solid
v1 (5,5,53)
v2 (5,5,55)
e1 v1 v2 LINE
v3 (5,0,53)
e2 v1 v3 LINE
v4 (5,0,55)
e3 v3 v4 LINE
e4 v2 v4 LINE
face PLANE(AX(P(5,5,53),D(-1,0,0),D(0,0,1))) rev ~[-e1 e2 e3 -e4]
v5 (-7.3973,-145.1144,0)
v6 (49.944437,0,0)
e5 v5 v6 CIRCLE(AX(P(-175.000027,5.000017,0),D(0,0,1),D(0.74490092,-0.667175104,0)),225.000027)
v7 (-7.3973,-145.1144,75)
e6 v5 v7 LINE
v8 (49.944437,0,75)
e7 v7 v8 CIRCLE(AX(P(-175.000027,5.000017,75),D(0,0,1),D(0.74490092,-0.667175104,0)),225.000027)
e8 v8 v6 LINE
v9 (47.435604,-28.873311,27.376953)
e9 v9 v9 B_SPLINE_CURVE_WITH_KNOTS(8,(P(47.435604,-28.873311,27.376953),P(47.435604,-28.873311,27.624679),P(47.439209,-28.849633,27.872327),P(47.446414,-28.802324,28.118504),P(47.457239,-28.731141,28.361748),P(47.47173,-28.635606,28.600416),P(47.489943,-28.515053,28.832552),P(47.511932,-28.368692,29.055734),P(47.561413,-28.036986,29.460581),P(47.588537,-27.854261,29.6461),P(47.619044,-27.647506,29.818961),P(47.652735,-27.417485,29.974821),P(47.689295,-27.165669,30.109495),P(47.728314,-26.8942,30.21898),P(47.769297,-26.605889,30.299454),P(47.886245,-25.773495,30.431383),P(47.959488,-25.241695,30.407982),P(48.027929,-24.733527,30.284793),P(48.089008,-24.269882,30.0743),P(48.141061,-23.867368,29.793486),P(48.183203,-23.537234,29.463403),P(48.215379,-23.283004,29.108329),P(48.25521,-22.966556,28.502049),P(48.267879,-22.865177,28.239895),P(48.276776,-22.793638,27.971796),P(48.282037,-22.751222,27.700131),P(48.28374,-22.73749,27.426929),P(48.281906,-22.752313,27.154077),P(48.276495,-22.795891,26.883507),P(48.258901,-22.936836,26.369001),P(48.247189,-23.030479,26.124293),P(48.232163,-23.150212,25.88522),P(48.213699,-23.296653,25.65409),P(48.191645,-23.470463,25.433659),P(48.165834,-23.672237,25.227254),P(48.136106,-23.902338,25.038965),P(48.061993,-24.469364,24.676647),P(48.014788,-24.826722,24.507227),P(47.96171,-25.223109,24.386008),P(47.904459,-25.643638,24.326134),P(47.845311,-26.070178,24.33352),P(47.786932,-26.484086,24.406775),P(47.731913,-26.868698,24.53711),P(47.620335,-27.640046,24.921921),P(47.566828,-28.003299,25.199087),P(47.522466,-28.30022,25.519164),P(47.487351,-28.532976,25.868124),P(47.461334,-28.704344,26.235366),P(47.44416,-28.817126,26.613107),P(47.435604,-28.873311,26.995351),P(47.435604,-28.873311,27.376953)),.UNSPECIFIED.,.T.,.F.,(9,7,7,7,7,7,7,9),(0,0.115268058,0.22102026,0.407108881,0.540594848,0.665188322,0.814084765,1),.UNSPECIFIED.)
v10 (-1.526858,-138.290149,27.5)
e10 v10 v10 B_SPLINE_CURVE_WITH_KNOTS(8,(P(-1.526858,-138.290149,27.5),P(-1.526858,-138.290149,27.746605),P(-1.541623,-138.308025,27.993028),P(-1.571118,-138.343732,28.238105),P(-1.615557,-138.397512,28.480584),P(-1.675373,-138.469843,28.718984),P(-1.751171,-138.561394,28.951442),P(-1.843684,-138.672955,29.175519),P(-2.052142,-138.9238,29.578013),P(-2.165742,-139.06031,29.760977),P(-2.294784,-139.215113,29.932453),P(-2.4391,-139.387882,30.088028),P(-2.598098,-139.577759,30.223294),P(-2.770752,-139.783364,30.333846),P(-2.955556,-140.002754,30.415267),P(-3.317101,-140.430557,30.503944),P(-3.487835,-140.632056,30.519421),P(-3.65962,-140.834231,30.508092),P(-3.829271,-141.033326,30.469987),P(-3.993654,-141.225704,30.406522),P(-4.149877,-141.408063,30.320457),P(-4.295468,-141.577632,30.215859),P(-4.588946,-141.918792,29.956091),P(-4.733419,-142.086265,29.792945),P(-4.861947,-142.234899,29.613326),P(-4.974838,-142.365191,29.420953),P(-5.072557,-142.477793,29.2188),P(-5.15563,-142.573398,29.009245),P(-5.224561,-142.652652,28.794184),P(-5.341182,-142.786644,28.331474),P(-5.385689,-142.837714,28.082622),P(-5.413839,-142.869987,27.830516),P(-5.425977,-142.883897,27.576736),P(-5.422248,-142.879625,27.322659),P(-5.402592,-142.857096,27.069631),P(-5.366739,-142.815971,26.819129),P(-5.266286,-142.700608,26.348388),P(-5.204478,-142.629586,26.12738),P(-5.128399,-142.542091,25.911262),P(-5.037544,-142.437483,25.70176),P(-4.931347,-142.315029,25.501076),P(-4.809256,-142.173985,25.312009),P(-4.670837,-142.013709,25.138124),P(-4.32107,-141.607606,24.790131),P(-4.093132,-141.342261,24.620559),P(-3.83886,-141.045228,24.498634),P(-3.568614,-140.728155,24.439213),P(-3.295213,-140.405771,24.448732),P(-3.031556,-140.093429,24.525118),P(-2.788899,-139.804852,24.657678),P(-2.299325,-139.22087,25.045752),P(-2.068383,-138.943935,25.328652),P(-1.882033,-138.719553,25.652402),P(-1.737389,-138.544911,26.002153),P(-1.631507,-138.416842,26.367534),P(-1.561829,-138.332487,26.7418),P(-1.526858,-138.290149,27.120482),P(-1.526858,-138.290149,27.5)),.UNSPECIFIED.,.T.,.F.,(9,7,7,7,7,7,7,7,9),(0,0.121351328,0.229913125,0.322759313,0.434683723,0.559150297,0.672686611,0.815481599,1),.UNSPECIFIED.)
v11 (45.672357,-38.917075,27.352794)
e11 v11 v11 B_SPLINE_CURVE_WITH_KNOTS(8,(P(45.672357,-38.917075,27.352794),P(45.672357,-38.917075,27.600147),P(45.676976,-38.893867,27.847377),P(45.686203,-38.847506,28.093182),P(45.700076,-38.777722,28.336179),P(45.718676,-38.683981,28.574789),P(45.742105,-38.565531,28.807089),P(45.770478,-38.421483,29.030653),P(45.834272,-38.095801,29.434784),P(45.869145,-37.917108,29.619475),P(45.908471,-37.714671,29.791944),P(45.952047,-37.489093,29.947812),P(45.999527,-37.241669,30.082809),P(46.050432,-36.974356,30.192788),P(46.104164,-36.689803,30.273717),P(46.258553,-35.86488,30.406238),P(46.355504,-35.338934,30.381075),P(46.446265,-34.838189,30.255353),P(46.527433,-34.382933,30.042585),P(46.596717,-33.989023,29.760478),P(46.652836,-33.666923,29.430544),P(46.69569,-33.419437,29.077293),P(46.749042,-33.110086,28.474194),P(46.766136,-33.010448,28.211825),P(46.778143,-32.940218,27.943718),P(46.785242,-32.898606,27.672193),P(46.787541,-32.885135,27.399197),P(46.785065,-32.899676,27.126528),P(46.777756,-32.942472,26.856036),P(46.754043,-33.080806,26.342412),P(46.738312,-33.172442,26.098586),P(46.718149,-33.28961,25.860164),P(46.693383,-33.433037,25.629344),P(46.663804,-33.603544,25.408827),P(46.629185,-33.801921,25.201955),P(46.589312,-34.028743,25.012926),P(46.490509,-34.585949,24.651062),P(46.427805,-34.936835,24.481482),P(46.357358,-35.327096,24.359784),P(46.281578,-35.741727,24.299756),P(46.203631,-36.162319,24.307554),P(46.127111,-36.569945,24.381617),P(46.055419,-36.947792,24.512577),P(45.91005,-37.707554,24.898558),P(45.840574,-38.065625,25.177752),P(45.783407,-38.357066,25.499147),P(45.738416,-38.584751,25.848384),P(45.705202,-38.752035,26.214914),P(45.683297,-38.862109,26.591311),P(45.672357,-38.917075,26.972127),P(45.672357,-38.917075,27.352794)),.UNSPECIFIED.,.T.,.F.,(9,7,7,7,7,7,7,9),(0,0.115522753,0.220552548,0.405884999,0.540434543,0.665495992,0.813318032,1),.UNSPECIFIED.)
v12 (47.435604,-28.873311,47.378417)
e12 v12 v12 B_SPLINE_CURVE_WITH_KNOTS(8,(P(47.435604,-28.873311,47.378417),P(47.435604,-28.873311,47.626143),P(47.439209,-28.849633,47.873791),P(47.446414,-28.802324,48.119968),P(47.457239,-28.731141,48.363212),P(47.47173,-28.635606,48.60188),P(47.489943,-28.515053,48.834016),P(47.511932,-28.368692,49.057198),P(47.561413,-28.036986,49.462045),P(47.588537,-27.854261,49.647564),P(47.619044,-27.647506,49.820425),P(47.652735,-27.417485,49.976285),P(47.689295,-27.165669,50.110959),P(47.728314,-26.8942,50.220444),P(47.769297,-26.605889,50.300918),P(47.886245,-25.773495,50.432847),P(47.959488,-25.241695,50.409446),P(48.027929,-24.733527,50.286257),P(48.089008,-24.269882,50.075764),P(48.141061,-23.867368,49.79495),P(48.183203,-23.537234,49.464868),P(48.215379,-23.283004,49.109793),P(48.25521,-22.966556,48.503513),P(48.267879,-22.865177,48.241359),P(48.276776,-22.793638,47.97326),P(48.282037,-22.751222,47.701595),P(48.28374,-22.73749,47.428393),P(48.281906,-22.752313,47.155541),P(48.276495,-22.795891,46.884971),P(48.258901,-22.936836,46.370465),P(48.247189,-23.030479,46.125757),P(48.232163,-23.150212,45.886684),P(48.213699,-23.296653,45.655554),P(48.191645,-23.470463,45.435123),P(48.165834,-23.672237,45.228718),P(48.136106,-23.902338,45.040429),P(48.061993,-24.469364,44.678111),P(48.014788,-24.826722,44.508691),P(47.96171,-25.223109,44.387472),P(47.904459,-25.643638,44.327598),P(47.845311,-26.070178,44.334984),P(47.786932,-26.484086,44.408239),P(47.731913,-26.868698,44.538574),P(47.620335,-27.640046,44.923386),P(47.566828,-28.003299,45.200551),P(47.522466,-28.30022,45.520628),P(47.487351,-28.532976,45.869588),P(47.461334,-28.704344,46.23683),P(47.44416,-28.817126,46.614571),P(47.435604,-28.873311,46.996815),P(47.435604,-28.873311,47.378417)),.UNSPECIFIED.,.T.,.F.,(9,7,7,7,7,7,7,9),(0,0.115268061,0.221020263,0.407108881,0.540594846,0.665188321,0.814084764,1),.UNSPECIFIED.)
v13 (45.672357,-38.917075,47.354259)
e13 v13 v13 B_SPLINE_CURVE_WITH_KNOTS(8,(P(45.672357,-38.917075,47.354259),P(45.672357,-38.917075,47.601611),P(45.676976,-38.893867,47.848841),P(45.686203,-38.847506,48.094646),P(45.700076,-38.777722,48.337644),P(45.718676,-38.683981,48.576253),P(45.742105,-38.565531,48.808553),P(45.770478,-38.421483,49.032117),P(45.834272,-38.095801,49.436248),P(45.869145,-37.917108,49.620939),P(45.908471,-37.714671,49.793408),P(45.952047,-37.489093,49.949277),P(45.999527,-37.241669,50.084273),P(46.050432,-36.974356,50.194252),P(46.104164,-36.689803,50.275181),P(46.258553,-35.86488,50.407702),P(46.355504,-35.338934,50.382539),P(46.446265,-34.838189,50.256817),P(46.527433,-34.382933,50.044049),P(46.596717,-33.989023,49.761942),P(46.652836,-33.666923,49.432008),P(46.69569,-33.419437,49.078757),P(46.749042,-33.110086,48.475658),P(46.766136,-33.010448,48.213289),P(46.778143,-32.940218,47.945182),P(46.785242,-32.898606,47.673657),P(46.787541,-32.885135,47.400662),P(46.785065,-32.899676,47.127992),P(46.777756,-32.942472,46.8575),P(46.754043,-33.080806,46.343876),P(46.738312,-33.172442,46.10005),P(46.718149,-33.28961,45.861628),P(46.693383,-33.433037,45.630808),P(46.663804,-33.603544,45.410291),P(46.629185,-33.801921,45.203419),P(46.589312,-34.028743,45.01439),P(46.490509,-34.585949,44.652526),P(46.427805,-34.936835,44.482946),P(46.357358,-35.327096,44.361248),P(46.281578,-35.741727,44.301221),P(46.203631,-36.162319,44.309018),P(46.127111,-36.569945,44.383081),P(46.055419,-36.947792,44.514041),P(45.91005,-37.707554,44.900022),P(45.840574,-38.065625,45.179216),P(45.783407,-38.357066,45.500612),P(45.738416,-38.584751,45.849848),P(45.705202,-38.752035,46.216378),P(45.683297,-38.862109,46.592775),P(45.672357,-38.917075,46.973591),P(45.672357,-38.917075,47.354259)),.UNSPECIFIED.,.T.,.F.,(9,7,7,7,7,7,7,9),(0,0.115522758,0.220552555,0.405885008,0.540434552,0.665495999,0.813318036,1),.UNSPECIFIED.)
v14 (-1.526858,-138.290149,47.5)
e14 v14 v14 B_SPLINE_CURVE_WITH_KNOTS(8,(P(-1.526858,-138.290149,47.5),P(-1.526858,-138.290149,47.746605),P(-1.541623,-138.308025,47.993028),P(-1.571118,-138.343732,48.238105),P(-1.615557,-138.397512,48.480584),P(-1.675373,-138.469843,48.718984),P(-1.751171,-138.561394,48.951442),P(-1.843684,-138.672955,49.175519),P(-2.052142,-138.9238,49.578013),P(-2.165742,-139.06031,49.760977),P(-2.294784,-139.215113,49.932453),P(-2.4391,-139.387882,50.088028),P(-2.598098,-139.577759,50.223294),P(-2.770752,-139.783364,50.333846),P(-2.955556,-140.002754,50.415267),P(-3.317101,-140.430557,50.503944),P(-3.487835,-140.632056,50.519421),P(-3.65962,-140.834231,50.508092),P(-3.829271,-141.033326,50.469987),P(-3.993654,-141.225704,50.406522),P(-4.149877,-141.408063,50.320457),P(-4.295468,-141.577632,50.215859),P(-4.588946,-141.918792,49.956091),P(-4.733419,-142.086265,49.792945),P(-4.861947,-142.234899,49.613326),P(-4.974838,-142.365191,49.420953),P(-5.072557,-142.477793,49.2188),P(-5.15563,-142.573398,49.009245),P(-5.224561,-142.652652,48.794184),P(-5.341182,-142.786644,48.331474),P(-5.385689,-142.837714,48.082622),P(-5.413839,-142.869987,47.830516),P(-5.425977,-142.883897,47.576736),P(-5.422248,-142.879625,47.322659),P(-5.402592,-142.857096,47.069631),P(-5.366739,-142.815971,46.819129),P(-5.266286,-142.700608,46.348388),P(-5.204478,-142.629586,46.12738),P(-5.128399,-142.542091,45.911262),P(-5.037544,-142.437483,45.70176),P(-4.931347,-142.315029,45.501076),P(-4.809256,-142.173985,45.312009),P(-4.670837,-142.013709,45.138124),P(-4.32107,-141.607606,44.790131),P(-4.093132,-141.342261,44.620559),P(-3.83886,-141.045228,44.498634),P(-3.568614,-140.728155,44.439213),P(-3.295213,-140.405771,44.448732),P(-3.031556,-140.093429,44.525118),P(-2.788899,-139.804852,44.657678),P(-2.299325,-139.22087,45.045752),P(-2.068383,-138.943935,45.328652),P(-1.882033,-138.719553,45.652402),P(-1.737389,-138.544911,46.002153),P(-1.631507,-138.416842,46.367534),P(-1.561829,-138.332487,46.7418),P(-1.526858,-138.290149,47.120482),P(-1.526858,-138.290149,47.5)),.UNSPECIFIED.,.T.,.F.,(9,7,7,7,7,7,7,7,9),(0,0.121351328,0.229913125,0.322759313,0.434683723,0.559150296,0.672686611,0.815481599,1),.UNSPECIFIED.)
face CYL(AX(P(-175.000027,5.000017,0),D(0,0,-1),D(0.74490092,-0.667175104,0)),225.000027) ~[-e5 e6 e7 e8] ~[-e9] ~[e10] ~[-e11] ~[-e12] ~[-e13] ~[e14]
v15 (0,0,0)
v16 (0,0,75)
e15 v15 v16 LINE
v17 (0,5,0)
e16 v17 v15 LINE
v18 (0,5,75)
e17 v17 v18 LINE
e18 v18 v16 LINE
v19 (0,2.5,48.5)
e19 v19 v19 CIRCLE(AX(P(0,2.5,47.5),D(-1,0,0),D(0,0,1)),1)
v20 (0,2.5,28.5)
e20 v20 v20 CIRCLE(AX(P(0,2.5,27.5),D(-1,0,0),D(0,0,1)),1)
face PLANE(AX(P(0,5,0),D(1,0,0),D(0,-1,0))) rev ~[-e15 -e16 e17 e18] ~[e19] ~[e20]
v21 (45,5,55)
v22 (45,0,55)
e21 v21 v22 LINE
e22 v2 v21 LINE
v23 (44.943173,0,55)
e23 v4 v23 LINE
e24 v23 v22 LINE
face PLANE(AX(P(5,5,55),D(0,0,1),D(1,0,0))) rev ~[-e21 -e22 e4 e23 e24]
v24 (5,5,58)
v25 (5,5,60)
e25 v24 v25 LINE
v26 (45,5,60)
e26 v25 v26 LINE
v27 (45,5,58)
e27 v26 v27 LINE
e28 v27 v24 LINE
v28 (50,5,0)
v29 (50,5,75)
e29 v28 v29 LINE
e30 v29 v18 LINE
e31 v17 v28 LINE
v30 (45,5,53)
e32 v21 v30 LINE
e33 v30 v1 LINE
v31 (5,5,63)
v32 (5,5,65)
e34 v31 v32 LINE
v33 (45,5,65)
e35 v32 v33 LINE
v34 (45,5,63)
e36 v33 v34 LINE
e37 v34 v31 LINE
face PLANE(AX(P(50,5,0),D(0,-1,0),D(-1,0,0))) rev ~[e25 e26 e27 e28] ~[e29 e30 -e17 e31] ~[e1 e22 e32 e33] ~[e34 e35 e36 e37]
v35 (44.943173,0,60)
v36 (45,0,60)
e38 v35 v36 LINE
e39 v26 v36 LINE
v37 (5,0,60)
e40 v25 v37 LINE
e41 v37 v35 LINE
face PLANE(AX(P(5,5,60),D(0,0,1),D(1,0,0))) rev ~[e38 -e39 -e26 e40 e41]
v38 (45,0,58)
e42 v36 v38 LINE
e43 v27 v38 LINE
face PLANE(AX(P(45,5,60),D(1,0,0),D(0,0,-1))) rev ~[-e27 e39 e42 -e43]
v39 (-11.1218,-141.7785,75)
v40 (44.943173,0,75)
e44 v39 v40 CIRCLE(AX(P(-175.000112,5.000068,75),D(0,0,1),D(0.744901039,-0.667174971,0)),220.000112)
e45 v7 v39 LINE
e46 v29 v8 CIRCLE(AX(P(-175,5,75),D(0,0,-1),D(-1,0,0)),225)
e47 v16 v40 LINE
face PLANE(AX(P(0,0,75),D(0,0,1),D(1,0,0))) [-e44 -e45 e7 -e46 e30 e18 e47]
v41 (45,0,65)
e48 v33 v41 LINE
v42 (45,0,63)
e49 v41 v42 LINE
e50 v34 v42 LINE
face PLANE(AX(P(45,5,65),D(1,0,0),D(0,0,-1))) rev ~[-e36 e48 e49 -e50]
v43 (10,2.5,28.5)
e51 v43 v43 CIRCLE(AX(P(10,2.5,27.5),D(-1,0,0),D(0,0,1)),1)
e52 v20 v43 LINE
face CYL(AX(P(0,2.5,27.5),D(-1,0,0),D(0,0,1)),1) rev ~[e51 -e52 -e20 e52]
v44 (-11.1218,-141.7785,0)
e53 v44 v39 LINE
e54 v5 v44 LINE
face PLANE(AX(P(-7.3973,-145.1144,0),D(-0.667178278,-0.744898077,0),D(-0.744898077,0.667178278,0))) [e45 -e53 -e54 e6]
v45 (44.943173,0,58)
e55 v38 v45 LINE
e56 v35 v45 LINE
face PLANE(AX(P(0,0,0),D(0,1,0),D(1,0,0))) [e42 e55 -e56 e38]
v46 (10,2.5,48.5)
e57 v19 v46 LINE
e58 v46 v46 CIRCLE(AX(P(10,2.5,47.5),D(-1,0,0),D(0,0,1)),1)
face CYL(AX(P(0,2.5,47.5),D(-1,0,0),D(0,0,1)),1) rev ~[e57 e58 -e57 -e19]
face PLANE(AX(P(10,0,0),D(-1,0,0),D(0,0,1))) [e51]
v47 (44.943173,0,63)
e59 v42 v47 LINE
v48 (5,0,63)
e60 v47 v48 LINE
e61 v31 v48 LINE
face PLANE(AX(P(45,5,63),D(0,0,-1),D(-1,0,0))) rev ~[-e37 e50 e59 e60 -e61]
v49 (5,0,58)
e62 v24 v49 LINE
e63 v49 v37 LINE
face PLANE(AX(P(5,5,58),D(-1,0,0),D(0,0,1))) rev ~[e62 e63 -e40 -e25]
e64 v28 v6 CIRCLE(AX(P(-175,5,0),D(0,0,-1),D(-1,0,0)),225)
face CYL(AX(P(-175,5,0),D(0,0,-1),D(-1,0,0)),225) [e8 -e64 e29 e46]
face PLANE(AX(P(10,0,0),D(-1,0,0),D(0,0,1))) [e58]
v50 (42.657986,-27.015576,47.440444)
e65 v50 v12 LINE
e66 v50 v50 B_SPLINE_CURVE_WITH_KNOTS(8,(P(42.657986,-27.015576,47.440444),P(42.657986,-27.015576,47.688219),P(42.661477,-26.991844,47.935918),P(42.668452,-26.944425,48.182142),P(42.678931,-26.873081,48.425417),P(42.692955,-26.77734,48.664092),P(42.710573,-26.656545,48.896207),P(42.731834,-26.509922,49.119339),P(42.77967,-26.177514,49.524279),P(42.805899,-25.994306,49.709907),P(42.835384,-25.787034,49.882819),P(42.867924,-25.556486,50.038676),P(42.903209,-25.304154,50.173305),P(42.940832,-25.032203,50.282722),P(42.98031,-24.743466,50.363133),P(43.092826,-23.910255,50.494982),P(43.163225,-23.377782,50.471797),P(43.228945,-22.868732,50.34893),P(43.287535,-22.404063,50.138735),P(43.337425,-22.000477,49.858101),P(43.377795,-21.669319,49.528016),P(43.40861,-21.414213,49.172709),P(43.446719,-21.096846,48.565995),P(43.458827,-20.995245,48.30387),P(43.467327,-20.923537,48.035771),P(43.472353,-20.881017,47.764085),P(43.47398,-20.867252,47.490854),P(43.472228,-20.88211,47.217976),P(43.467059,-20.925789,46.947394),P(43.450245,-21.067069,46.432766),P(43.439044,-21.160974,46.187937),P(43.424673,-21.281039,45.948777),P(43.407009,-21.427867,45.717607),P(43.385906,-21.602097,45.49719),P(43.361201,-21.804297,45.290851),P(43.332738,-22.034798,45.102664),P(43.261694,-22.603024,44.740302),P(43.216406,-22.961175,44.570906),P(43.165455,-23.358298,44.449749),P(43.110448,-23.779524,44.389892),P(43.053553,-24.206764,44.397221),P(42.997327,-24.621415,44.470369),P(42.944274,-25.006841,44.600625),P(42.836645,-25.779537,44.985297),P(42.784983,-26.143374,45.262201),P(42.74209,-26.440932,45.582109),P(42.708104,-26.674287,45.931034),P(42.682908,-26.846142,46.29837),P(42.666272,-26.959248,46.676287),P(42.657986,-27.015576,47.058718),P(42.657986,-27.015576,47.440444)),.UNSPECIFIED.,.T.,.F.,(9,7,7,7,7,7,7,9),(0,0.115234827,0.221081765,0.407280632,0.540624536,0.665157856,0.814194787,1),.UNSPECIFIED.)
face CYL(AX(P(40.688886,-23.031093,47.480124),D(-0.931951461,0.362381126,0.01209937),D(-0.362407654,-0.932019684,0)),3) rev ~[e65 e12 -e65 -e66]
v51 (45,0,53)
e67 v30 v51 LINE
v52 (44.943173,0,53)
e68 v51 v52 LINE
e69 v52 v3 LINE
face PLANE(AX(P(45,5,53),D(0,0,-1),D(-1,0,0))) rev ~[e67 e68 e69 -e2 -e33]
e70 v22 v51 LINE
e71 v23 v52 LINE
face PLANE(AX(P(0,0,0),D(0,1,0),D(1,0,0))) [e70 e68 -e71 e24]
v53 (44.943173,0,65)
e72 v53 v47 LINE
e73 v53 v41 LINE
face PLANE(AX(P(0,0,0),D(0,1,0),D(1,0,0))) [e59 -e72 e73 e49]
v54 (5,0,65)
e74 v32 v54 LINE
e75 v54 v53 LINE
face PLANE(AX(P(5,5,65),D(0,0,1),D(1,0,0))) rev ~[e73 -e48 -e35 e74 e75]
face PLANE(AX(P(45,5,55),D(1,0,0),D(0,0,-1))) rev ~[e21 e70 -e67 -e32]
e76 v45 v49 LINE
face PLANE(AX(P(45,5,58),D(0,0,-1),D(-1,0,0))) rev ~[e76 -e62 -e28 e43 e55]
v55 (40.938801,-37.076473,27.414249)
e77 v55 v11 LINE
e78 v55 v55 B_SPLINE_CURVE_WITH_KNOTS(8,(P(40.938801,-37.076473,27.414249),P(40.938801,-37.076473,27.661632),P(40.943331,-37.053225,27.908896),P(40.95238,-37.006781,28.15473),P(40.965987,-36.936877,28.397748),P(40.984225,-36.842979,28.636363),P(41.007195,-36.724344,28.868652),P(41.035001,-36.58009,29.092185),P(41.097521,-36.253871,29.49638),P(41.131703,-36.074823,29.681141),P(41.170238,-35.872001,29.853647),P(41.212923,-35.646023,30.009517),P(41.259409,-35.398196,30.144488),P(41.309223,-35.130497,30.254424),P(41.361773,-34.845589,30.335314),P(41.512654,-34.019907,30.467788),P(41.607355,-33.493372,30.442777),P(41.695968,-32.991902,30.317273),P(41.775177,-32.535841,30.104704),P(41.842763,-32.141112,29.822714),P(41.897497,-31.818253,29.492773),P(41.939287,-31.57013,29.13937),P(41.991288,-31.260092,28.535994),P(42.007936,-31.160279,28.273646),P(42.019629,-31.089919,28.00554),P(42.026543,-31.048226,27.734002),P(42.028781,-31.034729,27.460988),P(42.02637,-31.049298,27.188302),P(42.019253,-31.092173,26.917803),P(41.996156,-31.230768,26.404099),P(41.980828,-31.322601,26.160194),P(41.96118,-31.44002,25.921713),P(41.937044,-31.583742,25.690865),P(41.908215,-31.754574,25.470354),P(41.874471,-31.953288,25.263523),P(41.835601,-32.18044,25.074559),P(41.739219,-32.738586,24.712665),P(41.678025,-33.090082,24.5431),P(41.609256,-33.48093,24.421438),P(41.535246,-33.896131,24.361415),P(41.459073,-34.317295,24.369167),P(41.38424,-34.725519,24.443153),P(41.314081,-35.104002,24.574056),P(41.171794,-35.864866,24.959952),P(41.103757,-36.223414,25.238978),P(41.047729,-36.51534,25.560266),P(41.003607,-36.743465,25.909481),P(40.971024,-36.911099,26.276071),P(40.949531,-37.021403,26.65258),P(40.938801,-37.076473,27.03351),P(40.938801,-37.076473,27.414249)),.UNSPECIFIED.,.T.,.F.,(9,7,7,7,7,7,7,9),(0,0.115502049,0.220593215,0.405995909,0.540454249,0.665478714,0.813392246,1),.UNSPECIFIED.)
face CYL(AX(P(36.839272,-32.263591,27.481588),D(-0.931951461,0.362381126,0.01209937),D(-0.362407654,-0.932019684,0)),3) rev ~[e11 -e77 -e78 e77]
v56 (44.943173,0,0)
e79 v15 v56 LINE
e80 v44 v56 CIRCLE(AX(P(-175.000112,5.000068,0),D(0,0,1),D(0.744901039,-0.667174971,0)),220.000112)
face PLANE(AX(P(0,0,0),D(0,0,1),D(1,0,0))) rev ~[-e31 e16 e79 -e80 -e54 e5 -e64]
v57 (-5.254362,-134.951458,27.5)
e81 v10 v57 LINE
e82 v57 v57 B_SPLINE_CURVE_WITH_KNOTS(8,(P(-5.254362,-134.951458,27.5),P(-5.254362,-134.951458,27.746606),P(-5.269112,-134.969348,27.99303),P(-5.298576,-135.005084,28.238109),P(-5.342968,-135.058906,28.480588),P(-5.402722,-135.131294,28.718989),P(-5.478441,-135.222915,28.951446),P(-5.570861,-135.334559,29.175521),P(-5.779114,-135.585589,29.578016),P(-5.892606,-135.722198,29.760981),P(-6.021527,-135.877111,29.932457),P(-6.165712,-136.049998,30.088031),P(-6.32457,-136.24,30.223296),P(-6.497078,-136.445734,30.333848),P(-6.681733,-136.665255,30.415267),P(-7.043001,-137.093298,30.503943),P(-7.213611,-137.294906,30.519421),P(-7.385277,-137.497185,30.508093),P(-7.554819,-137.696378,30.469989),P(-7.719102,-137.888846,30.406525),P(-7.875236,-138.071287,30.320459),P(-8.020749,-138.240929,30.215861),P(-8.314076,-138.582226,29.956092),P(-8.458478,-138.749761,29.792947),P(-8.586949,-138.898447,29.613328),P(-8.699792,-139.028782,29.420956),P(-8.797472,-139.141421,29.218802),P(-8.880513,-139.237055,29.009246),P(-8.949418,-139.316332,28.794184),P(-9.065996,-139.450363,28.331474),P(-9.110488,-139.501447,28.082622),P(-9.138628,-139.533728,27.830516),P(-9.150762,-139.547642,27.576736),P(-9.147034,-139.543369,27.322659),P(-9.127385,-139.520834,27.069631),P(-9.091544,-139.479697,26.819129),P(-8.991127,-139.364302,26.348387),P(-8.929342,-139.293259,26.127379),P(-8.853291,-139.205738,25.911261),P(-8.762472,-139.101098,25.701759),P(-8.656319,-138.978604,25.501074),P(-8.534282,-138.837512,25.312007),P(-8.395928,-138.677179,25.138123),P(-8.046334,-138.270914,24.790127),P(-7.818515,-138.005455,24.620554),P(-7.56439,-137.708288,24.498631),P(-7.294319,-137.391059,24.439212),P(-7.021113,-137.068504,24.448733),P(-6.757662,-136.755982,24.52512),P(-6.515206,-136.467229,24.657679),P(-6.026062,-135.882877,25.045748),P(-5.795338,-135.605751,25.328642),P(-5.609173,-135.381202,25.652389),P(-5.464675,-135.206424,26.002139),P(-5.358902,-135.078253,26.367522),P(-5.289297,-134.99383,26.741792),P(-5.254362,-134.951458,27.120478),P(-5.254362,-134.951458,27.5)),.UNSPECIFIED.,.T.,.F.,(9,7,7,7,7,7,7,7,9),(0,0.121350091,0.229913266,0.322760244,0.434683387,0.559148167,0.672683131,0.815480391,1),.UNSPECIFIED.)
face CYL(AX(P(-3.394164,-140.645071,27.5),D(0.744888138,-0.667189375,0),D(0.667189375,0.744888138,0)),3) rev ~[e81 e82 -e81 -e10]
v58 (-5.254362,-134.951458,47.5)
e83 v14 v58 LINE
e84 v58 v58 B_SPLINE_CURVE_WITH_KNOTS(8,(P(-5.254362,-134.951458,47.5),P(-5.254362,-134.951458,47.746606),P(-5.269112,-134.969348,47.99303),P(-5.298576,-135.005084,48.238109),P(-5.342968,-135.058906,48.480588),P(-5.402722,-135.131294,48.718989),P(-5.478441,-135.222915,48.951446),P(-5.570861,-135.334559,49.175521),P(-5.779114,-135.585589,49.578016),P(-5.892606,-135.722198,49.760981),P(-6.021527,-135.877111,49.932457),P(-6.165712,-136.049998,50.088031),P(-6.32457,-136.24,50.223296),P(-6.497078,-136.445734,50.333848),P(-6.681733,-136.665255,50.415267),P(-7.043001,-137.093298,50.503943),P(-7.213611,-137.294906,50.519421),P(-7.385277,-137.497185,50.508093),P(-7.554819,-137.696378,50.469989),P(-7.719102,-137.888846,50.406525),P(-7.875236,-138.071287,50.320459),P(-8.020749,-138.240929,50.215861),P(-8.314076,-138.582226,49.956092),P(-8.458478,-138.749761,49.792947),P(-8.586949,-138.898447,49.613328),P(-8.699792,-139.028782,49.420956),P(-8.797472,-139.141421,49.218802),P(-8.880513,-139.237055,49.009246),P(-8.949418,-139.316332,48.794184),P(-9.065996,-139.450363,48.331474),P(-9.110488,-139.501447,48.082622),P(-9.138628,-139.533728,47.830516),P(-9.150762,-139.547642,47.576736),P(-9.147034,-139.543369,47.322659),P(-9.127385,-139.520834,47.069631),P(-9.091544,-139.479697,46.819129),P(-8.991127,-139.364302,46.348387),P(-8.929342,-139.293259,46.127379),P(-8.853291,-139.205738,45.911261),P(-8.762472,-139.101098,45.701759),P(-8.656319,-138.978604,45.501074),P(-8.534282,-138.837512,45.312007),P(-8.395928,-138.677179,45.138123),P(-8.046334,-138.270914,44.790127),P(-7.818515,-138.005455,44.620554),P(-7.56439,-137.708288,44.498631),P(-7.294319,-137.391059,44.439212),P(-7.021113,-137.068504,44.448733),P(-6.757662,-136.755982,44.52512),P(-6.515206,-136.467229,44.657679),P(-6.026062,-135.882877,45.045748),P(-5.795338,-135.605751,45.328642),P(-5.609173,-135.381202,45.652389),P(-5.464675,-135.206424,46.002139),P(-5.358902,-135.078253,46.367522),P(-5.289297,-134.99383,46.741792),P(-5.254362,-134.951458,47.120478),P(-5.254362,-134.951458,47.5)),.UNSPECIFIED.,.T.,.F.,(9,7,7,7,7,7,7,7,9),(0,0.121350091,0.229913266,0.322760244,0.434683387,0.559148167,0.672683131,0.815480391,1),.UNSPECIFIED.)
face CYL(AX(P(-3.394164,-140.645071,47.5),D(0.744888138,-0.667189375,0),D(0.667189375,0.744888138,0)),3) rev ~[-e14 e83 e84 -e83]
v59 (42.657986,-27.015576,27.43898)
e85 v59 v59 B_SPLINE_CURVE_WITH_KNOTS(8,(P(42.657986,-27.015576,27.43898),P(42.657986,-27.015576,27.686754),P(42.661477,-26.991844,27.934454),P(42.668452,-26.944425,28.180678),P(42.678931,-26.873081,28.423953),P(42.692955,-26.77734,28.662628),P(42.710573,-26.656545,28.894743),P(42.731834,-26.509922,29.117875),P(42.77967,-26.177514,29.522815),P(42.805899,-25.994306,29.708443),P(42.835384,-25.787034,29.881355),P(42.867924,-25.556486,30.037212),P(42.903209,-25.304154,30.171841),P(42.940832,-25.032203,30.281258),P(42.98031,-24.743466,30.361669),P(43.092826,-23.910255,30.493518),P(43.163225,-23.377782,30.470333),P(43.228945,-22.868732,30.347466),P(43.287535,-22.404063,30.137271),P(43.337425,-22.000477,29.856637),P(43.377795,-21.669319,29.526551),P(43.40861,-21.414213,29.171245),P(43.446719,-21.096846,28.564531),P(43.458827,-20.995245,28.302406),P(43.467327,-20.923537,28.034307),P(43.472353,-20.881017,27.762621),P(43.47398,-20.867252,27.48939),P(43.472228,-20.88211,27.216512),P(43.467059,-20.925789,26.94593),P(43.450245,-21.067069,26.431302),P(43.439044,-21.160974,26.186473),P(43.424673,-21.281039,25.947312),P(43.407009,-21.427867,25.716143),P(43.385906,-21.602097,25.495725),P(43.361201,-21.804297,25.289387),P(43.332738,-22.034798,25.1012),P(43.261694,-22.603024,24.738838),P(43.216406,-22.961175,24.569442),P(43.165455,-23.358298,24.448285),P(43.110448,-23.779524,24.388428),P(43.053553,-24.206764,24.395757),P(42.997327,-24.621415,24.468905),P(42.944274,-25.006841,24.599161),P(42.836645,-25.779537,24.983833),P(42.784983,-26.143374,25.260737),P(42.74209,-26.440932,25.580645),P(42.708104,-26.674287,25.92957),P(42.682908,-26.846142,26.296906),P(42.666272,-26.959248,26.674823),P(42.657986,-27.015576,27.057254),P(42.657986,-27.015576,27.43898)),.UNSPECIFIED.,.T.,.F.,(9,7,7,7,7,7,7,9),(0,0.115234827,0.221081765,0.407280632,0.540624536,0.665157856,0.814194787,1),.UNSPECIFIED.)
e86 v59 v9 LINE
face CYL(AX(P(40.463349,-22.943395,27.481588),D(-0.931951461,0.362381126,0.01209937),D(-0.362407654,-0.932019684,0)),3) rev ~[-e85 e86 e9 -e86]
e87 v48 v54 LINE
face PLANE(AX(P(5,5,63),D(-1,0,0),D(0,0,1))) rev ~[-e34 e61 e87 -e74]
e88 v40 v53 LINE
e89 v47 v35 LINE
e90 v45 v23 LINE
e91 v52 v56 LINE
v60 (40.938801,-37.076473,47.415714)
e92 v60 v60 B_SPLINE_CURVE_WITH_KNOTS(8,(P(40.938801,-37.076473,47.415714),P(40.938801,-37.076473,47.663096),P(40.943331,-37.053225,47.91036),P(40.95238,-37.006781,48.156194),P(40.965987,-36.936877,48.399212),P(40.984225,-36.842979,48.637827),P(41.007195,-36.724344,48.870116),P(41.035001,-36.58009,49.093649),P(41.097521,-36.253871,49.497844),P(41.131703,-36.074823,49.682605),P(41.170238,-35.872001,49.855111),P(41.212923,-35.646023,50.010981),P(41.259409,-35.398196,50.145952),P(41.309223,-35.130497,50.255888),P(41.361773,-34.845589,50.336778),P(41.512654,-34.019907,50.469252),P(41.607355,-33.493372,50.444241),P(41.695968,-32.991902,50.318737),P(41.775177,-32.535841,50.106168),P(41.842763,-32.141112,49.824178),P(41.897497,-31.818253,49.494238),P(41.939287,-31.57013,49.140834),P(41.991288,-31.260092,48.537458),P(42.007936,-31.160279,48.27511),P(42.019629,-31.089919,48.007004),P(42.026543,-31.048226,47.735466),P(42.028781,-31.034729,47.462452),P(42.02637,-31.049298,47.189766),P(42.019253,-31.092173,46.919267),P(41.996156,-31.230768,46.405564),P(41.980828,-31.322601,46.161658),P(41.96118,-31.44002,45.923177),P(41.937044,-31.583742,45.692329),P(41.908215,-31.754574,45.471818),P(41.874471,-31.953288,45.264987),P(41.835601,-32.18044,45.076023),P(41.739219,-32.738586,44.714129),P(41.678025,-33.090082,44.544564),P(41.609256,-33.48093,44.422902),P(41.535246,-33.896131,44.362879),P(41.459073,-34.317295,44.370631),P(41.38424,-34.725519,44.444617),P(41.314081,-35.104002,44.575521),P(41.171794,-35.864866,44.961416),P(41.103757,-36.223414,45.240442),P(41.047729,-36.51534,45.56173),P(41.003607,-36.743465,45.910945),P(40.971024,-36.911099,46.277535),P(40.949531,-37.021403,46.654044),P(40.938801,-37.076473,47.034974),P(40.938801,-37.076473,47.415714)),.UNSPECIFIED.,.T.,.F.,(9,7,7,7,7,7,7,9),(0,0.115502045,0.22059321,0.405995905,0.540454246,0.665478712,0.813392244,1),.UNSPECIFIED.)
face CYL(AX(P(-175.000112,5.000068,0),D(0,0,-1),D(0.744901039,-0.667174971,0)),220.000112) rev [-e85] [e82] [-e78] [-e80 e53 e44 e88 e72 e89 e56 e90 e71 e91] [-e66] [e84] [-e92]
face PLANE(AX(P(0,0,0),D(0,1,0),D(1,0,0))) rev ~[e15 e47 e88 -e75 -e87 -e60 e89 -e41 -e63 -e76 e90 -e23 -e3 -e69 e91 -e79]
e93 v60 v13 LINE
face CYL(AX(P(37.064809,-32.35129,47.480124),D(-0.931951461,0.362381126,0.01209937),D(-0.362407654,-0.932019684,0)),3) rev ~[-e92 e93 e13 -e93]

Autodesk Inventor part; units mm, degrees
ref_plane "YZ Plane" through (0, 0, 0) normal (1, 0, 0) x (0, 1, 0)
sketch "Sketch1" plane through (0, 0, 0) normal (0, 0, 1) x (1, 0, 0)
  line L0 (0, 0) -> (50, 0)
  line L1 (50, 0) -> (50, 5)
  line L2 (50, 5) -> (0, 5)
  line L3 (0, 5) -> (0, 0)
  dimension "d0" = 50
  dimension "d1" = 5
extrude "Extrusion1" add sketch "Sketch1" along normal blind 75
sketch "Sketch2" plane through (0, 0, 0) normal (-1, 0, 0) x (0, 0, 1)
  circle A0 centre (47.5, 2.5) radius 1
  circle A1 centre (27.5, 2.5) radius 1
  line L0 (0, 5) -> (0, 0) projected
  line L1 (0, 0) -> (75, 0) projected
  dimension "d4" = 2
  dimension "d5" = 2
  dimension "d6" = 27.5
  dimension "d7" = 20
  dimension "d8" = 2.5
extrude "Extrusion2" cut sketch "Sketch2" against normal blind 10
thread "Thread1" size "M2x0.4" class "6H" standard "ANSI Metric M Profile" full length
thread "Thread2" size "M2x0.4" class "6H" standard "ANSI Metric M Profile" full length
sketch "Sketch6" plane through (0, 0, 0) normal (0, 0, 1) x (1, 0, 0)
  circle A0 centre (-175, 5) radius 225 construction
  line L0 (-7.3973, 5.2329) -> (-7.3973, -145.1144) construction
  line L1 (-176.0104, 5) -> (50, 5) construction
  circle A1 centre (-175, 5) radius 220 construction
  arc A2 (-7.3973, -145.1144) -> (50, 5) centre (-175, 5) ccw
  line L2 (-7.3973, -145.1144) -> (-11.1218, -141.7785)
  arc A3 (-11.1218, -141.7785) -> (45, 5) centre (-175, 5) ccw
  line L3 (0, 5) -> (50, 5)
  line L4 (45, 5) -> (50, 5)
  point P0 (0, 5)
  dimension "d36" = 450
  dimension "d38" = 5
  dimension "d39" = 5
  dimension "d69" = 150.1144
extrude "Extrusion5" add sketch "Sketch6" along normal blind 75
ref_plane "Work Plane3" through (50, 2.5, 0) normal (-0.932, 0.3624, 0.0121) x (-0.3624, -0.932, 0)
sketch "Sketch7" plane through (50, 2.5, 0) normal (-0.932, 0.3624, 0.0121) x (-0.3624, -0.932, 0)
  circle A0 centre (27.1699, 27.4836) radius 3
  circle A1 centre (27.1699, 47.4836) radius 3
  line L0 (-2.3301, -0.0109) -> (-2.3301, 74.9836) projected
  circle A2 centre (37.1699, 27.4836) radius 3
  circle A3 centre (37.1699, 47.4836) radius 3
  point P0 (20.4501, -0.552)
  dimension "d42" = 6
  dimension "d43" = 6
  dimension "d44" = 29.5
  dimension "d46" = 20
  dimension "d47" = 27.5
  dimension "d48" = 6
  dimension "d49" = 6
  dimension "d50" = 10
extrude "Extrusion6" cut sketch "Sketch7" along normal through all both and the other way through all
sketch "Sketch8" plane through (0, 5, 0) normal (0, 1, 0) x (1, 0, 0)
  line L0 (5, -65) -> (45, -65)
  line L1 (45, -65) -> (45, -63)
  line L2 (45, -63) -> (5, -63)
  line L3 (5, -63) -> (5, -65)
  line L4 (50, 0) -> (0, 0) projected
  line L5 (0, 0) -> (0, -75) projected
  line L6 (50, -75) -> (0, -75) projected
  line L7 (50, 0) -> (50, -75) projected
  line L8 (45, -58) -> (5, -58)
  line L9 (5, -58) -> (5, -60)
  line L10 (5, -60) -> (45, -60)
  line L11 (45, -60) -> (45, -58)
  line L12 (45, -53) -> (5, -53)
  line L13 (5, -53) -> (5, -55)
  line L14 (5, -55) -> (45, -55)
  line L15 (45, -55) -> (45, -53)
  dimension "d56" = 40
  dimension "d57" = 2
  dimension "d58" = 5
  dimension "d59" = 10
  dimension "d62" = 5
extrude "Extrusion7" cut sketch "Sketch8" against normal blind 5 contours L3 L2 L1 L0 | L11 L10 L9 L8 | L15 L14 L13 L12
ref_plane "Work Plane4" through (-7.3973, -145.1144, 0) normal (0.7449, -0.6672, 0) x (0.6672, 0.7449, 0)
sketch "Sketch9" plane through (-7.3973, -145.1144, 0) normal (0.7449, -0.6672, 0) x (0.6672, 0.7449, 0)
  circle A0 centre (6, 27.5) radius 3
  circle A1 centre (6, 47.5) radius 3
  line L0 (146.3528, 75) -> (0, 75) projected
  line L1 (0, 0) -> (0, 75) projected
  point P0 (113.0311, 0)
  dimension "d70" = 6
  dimension "d71" = 6
  dimension "d72" = 27.5
  dimension "d73" = 20
  dimension "d74" = 6
extrude "Extrusion8" cut sketch "Sketch9" along normal through all both and the other way through all
sketch "Sketch10" plane through (0, 0, 0) normal (0, 0, -1) x (-1, 0, 0)
  circle A0 centre (175, 5) radius 225
  circle A1 centre (175, 5) radius 230
  point P0 (-49.9444, 0)
  point P1 (-50, 5)
  dimension "d77" = 450
  dimension "d78" = 5
extrude "Extrusion9" cut sketch "Sketch10" against normal through all
properties part number "CW002" material "ABS Plastic"
